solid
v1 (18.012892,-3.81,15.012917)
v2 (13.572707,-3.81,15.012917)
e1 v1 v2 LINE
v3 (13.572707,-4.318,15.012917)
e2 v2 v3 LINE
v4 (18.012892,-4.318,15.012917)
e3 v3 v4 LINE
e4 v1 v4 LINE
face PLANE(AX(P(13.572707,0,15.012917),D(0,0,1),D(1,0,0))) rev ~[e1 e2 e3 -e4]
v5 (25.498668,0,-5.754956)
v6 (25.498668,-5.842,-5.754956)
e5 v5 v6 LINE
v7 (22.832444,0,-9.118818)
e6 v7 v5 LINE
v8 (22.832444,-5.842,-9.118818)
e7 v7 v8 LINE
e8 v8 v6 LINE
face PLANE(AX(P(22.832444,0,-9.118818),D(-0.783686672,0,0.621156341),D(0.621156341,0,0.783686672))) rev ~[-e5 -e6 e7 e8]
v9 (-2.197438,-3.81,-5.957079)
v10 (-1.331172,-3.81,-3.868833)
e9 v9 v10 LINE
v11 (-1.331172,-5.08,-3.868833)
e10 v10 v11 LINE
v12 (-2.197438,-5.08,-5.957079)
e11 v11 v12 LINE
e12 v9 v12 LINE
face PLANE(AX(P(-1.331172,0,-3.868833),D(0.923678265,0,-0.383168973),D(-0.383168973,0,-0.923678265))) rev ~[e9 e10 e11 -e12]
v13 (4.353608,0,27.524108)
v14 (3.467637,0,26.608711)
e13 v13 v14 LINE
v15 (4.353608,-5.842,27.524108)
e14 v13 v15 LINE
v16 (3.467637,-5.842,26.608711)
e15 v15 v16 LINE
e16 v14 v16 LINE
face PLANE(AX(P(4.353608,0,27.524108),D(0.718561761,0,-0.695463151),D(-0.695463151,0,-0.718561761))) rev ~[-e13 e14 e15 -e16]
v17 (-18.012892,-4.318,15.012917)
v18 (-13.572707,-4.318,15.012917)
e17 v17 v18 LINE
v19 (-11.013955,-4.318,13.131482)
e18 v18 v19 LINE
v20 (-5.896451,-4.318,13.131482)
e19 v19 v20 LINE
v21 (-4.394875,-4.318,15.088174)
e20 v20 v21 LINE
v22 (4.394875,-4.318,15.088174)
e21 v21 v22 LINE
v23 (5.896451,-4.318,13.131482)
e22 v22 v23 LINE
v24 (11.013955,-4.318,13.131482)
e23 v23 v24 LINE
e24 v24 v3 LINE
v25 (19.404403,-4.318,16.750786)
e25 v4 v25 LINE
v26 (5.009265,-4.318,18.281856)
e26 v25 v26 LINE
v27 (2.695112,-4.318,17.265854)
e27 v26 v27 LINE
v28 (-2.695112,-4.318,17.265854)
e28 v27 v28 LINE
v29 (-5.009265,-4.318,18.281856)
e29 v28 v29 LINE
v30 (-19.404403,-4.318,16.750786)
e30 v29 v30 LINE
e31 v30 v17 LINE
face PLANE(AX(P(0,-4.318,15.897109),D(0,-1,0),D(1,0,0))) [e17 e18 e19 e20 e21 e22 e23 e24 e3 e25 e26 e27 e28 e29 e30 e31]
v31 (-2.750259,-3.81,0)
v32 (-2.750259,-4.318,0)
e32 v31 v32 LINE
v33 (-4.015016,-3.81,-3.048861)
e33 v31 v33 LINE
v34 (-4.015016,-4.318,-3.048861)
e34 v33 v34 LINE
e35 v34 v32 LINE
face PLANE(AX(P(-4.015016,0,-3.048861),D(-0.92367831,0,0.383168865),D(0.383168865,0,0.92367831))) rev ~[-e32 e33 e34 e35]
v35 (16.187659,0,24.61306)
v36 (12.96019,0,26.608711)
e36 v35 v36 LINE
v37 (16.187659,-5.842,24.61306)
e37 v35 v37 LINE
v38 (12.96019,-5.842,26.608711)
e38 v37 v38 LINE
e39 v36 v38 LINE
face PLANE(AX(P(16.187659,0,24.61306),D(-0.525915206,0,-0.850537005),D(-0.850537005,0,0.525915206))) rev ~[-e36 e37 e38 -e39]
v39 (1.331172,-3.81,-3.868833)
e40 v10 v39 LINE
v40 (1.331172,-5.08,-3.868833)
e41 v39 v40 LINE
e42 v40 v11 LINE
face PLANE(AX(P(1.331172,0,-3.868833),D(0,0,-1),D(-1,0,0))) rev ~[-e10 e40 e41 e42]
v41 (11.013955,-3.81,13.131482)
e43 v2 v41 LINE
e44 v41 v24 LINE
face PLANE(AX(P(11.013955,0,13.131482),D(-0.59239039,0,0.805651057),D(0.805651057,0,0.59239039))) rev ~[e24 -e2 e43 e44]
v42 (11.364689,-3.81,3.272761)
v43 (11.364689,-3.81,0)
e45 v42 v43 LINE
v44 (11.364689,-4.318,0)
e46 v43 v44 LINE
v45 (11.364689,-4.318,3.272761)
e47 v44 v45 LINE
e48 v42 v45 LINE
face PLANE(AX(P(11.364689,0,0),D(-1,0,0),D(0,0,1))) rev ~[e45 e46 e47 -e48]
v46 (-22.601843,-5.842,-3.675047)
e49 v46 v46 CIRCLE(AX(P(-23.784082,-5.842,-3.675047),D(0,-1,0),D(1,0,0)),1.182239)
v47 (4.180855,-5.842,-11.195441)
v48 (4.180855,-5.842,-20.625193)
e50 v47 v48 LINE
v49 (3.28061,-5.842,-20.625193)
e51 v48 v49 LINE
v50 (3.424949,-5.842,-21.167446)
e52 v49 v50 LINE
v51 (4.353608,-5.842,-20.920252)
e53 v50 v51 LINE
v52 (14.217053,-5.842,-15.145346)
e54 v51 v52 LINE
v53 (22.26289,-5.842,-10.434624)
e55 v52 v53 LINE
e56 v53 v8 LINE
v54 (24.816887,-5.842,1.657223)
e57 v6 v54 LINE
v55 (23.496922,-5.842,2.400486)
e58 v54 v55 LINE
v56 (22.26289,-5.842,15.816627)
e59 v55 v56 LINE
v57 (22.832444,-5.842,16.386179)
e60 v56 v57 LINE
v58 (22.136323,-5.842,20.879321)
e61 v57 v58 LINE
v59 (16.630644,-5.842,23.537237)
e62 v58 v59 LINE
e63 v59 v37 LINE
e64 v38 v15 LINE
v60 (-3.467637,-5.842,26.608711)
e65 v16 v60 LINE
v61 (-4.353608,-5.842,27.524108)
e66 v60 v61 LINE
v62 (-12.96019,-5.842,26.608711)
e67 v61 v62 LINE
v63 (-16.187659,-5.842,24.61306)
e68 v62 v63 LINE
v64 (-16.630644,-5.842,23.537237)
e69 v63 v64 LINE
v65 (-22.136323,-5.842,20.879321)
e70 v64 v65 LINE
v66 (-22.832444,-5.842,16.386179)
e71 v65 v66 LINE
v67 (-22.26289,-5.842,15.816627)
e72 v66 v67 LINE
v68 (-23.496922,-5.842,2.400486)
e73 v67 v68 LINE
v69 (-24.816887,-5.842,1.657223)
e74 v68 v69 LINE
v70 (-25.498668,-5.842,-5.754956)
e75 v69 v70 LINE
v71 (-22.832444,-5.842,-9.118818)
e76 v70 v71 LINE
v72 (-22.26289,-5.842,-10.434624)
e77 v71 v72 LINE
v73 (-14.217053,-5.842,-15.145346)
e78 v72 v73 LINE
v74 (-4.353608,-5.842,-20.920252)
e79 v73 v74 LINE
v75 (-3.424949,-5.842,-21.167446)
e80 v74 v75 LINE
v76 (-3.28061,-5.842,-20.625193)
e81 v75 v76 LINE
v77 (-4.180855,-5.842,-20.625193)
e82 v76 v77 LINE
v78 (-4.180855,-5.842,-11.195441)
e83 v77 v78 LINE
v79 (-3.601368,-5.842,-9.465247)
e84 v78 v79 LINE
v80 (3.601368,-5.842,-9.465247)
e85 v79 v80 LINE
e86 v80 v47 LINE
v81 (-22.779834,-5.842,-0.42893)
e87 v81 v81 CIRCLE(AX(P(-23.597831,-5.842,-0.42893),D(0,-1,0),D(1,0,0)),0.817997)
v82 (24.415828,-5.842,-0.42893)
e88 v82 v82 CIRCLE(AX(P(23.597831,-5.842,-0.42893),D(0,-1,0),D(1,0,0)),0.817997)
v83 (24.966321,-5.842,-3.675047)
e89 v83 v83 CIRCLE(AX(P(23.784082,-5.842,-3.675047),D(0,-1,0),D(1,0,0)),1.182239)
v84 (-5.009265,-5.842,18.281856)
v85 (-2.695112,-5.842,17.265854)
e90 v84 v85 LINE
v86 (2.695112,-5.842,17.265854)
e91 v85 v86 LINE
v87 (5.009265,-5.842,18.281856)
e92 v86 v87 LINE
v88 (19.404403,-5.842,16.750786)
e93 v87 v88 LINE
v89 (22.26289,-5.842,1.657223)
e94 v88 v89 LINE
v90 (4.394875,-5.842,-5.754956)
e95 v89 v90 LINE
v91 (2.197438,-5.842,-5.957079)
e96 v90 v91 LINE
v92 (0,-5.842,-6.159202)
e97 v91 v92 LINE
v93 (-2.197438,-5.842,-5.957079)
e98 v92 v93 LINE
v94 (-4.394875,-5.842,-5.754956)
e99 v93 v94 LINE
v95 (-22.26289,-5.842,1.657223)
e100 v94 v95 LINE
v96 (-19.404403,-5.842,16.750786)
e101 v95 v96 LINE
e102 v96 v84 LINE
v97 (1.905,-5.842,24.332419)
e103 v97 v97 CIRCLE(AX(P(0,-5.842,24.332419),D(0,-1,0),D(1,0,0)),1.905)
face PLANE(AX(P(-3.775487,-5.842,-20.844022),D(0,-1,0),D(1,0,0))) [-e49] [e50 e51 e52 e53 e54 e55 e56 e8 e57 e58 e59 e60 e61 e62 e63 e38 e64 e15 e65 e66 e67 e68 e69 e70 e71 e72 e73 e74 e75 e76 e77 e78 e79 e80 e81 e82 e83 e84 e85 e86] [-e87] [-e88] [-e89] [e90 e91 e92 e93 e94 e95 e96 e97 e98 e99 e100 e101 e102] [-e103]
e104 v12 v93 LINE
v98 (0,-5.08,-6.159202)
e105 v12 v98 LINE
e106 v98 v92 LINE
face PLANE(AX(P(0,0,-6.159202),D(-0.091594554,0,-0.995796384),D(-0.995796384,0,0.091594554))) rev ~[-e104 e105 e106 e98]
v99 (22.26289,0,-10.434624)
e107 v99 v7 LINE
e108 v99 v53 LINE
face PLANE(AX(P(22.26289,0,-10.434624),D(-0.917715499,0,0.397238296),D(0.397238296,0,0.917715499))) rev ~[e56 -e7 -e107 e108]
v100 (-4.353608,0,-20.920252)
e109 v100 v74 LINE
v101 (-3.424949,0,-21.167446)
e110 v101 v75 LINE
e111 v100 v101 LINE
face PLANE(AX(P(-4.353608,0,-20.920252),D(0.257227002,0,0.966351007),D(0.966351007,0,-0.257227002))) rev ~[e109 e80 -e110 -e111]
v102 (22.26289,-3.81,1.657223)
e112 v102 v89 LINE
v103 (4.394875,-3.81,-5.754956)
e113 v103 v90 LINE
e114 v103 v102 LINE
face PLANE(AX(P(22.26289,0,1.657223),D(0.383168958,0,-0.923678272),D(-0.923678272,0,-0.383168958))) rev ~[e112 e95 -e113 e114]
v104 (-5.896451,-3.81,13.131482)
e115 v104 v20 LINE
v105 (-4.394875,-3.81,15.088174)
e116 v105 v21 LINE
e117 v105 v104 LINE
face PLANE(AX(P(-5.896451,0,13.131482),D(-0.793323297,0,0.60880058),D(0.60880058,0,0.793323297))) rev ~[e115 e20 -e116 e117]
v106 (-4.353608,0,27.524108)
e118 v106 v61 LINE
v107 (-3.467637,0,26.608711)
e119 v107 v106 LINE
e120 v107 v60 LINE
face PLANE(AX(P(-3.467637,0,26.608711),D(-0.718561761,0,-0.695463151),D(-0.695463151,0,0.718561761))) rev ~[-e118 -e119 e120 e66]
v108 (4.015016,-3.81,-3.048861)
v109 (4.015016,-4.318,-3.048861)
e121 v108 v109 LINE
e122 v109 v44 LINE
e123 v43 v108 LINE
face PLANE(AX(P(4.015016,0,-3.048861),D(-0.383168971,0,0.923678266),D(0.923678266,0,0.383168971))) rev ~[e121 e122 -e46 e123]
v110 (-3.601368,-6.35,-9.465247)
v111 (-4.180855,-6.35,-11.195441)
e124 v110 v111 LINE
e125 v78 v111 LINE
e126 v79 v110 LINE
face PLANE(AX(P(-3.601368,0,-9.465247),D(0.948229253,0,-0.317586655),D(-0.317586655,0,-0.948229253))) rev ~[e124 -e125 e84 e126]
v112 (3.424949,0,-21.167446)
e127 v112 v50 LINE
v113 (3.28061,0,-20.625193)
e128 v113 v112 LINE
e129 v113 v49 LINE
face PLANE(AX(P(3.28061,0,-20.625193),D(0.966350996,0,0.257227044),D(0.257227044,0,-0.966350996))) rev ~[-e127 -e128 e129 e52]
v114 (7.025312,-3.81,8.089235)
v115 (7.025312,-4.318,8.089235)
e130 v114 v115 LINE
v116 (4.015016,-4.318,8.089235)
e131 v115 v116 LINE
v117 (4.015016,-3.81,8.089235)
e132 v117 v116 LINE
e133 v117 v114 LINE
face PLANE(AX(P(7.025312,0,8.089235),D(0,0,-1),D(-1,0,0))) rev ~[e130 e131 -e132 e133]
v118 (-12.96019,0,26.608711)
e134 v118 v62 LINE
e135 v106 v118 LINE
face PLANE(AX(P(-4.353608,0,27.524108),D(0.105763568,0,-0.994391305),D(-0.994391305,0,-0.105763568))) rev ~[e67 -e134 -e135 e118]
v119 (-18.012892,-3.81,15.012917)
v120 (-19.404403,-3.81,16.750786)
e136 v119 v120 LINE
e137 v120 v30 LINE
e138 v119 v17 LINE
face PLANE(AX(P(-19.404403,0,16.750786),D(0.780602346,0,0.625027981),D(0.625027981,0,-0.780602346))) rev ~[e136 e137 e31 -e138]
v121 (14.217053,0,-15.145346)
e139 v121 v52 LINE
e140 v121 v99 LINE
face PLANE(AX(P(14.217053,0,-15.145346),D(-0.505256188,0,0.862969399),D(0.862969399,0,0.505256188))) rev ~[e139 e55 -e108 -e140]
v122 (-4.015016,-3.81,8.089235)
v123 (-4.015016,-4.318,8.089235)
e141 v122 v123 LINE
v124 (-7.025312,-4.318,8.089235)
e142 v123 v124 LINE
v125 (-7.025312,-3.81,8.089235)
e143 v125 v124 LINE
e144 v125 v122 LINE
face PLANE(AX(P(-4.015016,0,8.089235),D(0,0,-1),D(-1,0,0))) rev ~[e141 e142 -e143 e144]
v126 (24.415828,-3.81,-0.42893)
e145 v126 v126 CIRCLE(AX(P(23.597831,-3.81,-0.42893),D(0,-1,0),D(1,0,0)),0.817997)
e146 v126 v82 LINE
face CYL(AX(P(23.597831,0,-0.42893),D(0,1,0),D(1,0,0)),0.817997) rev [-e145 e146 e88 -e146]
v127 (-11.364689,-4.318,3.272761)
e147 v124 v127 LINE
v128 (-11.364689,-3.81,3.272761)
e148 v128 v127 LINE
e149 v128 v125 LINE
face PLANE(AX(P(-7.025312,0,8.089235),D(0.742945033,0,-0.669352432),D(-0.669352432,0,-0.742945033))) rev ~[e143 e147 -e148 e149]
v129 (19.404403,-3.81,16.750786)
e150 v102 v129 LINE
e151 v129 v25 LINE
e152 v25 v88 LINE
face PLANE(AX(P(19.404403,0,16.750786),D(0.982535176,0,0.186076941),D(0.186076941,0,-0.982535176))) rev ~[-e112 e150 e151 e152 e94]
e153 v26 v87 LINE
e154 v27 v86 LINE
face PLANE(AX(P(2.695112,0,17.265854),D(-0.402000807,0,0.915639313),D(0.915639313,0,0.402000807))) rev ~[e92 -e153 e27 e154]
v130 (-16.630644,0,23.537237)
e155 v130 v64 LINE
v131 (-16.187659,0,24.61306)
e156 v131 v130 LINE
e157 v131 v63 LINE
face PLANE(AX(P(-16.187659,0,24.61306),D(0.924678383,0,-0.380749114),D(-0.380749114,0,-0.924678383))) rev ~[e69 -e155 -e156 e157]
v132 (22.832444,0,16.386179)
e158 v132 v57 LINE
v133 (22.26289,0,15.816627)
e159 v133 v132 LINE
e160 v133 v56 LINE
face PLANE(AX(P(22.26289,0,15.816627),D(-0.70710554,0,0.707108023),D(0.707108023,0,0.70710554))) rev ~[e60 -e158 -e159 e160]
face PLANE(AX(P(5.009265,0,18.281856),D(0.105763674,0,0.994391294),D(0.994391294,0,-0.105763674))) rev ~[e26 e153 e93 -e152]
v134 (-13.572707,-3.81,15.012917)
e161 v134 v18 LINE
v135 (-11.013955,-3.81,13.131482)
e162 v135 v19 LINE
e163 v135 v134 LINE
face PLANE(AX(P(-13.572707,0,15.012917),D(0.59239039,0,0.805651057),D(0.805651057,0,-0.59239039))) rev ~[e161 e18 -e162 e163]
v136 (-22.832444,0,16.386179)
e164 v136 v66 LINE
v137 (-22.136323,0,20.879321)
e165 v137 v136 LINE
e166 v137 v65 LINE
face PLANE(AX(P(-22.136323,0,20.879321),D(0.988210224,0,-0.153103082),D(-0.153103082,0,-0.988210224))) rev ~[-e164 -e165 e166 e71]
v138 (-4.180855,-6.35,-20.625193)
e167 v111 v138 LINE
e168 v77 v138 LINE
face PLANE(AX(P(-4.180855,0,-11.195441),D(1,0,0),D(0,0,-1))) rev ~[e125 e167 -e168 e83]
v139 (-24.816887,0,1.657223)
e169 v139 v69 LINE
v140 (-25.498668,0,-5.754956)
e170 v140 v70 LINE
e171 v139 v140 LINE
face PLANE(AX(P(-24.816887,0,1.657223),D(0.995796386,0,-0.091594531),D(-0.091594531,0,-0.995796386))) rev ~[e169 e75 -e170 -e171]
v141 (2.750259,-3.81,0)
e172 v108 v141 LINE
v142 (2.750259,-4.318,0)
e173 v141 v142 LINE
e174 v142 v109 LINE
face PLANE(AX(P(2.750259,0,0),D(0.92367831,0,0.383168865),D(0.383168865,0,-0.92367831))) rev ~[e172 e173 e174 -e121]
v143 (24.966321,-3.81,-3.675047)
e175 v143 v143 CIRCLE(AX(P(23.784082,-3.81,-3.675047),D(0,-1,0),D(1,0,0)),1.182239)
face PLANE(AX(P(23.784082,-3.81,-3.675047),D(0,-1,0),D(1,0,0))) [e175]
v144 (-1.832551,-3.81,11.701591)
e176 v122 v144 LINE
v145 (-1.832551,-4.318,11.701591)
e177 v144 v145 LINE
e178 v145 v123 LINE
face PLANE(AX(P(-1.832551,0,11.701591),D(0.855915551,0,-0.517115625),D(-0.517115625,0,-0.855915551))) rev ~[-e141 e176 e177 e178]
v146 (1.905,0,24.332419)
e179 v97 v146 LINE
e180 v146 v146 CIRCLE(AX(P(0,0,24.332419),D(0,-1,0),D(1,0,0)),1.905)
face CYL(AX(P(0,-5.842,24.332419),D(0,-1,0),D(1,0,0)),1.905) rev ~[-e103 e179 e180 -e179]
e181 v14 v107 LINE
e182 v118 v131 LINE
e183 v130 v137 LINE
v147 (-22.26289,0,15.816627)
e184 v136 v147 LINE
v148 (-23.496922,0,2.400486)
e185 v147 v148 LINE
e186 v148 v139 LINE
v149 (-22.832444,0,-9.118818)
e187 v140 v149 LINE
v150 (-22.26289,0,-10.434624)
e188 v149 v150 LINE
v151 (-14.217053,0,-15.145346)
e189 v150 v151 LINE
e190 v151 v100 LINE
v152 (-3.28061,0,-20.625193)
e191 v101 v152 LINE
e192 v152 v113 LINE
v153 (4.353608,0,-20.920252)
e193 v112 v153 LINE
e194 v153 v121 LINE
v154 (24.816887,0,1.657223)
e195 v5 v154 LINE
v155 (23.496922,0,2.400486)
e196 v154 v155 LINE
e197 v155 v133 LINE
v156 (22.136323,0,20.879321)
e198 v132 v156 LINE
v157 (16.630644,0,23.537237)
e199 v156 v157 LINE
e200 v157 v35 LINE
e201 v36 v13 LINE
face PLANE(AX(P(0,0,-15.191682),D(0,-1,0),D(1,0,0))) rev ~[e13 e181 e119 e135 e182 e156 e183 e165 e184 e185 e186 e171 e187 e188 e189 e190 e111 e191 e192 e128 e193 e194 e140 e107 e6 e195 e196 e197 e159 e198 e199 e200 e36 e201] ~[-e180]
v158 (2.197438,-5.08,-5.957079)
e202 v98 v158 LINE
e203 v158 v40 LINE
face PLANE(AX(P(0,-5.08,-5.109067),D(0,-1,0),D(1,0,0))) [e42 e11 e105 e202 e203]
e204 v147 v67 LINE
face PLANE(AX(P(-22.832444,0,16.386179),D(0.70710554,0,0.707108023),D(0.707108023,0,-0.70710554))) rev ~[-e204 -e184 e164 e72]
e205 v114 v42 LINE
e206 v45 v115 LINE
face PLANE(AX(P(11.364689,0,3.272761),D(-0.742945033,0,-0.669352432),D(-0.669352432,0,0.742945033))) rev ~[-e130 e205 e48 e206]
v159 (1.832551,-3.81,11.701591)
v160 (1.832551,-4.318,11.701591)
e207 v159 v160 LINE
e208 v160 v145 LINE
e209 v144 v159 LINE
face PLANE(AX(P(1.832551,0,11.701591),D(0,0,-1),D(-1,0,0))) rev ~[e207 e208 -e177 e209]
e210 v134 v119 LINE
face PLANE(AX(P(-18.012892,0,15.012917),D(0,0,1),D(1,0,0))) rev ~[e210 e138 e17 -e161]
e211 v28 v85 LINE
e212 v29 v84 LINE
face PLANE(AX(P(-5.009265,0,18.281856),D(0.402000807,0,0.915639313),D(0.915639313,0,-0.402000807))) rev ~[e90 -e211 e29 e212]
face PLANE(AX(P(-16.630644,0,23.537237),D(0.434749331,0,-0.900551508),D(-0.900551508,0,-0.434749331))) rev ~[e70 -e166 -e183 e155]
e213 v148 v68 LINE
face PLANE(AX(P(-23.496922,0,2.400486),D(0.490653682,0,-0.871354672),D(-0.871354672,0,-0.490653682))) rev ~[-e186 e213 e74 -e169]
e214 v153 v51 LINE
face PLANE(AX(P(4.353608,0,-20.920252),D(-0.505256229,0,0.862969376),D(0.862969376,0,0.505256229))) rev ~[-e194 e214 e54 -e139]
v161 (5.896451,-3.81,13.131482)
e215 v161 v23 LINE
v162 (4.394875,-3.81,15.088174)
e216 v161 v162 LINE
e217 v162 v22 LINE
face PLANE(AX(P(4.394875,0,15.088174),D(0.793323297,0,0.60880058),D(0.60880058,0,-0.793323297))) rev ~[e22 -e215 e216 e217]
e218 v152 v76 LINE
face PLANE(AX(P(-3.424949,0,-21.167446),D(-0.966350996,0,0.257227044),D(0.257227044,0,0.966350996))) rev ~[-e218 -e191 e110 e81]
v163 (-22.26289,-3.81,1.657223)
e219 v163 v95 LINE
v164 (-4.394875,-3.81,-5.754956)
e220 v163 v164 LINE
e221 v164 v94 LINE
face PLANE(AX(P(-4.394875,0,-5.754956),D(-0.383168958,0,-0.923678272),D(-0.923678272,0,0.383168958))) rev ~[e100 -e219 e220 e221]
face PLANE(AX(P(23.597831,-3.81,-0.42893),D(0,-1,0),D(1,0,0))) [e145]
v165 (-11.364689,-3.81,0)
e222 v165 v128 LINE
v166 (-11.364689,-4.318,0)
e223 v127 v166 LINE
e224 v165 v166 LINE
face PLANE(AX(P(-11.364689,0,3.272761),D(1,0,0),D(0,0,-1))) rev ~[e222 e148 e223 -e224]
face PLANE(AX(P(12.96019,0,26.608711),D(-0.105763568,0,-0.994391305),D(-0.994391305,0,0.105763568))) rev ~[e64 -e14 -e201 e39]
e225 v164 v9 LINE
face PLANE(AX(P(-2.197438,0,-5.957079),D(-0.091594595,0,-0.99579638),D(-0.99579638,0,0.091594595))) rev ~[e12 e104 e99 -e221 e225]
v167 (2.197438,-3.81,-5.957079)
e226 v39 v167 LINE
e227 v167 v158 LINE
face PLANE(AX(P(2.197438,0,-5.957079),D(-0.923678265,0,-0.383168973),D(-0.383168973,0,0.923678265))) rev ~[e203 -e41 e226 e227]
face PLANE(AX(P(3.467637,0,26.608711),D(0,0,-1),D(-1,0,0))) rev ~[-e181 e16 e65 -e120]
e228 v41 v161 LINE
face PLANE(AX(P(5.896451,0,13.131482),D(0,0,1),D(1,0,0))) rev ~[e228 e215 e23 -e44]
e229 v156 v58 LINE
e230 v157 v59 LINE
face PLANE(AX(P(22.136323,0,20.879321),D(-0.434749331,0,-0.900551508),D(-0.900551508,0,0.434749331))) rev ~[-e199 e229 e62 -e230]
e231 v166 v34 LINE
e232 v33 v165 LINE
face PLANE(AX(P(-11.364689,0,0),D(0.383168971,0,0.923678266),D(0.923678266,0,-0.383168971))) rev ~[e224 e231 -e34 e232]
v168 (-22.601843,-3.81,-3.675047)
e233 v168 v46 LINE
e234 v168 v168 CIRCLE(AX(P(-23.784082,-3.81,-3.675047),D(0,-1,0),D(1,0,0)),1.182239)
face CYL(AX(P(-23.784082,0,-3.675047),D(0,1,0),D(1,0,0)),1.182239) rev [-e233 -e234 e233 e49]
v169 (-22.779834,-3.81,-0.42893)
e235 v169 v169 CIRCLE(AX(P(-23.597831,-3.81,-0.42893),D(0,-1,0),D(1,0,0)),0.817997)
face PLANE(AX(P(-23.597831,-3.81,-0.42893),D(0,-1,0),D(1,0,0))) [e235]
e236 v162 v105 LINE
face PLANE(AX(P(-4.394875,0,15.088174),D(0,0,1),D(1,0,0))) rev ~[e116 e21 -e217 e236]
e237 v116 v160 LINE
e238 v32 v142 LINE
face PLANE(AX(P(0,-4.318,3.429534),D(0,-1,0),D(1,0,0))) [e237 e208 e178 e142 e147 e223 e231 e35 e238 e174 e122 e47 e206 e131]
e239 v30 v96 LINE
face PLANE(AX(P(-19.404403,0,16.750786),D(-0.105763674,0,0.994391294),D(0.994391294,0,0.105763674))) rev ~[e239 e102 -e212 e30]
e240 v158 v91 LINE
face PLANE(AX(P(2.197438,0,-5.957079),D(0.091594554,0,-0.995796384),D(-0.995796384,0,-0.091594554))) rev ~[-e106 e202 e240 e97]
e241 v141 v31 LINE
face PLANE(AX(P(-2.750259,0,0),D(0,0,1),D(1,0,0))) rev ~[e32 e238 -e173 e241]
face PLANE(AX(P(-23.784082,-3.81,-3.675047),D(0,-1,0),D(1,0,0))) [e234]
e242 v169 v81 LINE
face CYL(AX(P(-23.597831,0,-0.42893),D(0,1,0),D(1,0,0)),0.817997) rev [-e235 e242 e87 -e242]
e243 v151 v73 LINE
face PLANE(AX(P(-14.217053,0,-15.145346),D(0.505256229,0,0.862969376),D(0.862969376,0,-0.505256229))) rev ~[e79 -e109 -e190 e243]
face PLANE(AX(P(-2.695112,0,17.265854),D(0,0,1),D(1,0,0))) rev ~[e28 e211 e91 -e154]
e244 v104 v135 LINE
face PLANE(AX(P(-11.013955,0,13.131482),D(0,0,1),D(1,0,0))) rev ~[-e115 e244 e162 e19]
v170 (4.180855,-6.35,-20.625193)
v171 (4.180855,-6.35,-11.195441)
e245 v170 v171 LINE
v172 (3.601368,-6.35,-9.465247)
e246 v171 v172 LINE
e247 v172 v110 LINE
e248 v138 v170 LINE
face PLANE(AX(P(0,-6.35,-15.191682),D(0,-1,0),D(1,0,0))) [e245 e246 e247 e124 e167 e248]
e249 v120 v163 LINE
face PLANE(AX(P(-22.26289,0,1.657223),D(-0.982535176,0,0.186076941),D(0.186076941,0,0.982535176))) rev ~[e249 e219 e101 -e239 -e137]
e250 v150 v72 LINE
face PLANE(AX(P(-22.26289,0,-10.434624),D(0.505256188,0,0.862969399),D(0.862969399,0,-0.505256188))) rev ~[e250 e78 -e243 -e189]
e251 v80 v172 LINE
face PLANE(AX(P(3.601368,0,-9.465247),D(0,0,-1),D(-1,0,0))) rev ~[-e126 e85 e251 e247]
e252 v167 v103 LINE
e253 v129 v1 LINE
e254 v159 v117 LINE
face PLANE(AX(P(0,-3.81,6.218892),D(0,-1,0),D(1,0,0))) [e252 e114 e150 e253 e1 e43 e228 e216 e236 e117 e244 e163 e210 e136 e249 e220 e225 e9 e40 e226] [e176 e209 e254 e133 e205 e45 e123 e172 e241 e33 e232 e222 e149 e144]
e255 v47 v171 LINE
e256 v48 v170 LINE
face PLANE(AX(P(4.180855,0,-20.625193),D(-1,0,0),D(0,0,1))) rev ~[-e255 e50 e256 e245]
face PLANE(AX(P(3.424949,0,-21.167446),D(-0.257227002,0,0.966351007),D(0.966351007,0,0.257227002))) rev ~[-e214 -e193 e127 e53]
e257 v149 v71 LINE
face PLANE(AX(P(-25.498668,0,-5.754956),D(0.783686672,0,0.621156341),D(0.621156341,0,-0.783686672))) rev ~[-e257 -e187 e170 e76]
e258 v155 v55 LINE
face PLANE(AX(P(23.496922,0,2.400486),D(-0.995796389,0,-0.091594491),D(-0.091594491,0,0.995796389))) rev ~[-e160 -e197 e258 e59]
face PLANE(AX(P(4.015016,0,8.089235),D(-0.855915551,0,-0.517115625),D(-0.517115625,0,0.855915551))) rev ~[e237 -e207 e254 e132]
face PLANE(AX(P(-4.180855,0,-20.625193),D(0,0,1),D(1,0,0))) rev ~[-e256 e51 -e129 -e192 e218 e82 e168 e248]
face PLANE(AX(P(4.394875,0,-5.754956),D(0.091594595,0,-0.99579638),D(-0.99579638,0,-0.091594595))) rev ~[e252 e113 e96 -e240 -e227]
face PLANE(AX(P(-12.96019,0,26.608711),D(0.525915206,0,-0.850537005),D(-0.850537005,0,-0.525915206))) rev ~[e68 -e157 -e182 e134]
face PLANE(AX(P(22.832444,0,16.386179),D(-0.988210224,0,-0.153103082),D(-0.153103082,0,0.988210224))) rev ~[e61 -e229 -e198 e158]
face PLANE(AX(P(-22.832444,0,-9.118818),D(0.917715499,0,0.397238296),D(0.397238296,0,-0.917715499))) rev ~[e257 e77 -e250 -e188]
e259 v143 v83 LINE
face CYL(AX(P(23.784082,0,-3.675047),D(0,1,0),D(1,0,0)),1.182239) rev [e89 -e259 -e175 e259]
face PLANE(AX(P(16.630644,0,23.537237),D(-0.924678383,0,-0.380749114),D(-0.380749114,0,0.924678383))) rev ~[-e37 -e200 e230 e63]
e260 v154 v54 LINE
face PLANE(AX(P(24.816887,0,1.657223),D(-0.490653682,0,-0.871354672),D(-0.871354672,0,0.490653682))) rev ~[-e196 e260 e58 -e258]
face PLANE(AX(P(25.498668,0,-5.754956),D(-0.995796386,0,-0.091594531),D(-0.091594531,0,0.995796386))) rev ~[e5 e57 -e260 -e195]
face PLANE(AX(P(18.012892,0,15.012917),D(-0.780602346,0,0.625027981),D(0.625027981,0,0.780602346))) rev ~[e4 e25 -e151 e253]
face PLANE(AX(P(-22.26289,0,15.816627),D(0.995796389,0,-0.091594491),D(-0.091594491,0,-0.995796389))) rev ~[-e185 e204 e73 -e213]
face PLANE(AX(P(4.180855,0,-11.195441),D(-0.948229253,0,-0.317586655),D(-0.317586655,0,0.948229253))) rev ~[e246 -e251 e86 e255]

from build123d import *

# Parameters (mm, degrees)
F0_R     = 1.182239
F0_R_2   = 0.817997
F1_DEPTH = 5.842
F2_DEPTH = 3.81
F3_DEPTH = 5.08
F4_DEPTH = 4.318
F5_R     = 1.905
F6_DEPTH = 25.4
F7_DEPTH = 6.35


with BuildPart() as f1:
    # F0 (on Front) → F1 (new body)
    with BuildSketch(Plane.XZ):
        Polygon((-4.180855, -20.625193), (-4.353608, -20.920252), (-3.424949, -21.167446), (-3.28061, -20.625193), align=None)
        Polygon((3.424949, -21.167446), (4.353608, -20.920252), (4.180855, -20.625193), (3.28061, -20.625193), align=None)
        Polygon((22.26289, -6.835999), (22.26289, 1.657223), (4.394875, -5.754956), (2.197438, -5.957079), (0, -6.159202), (-2.197438, -5.957079), (-4.394875, -5.754956), (-22.26289, 1.657223), (-22.26289, -6.835999), (-22.832444, -9.118818), (-15.86828, -11.246894), (-14.217053, -15.145346), (-4.353608, -20.920252), (-4.180855, -20.625193), (-4.180855, -11.195441), (-3.601368, -9.465247), (0, -9.465247), (3.601368, -9.465247), (4.180855, -11.195441), (4.180855, -20.625193), (4.353608, -20.920252), (14.217053, -15.145346), (15.86828, -11.246894), (22.832444, -9.118818), align=None)
        Polygon((-15.86828, -11.246894), (-22.832444, -9.118818), (-22.26289, -10.434624), (-14.217053, -15.145346), align=None)
        Polygon((22.26289, -10.434624), (22.832444, -9.118818), (15.86828, -11.246894), (14.217053, -15.145346), align=None)
        Polygon((24.816887, 1.657223), (22.26289, 1.657223), (22.26289, -6.835999), (22.832444, -9.118818), (25.498668, -5.754956), align=None)
        with Locations((23.784082, -3.675047)):
            Circle(F0_R, mode=Mode.SUBTRACT)
        with Locations((23.597831, -0.42893)):
            Circle(F0_R_2, mode=Mode.SUBTRACT)
        Polygon((-22.26289, -6.835999), (-22.26289, 1.657223), (-24.816887, 1.657223), (-25.498668, -5.754956), (-22.832444, -9.118818), align=None)
        with Locations((-23.784082, -3.675047)):
            Circle(F0_R, mode=Mode.SUBTRACT)
        with Locations((-23.597831, -0.42893)):
            Circle(F0_R_2, mode=Mode.SUBTRACT)
        Polygon((-19.404403, 16.750786), (-22.26289, 15.816627), (-23.496922, 2.400486), (-22.26289, 1.657223), align=None)
        Polygon((23.496922, 2.400486), (22.26289, 15.816627), (19.404403, 16.750786), (22.26289, 1.657223), align=None)
        Polygon((24.816887, 1.657223), (23.496922, 2.400486), (22.26289, 1.657223), align=None)
        Polygon((-22.26289, 1.657223), (-23.496922, 2.400486), (-24.816887, 1.657223), align=None)
        Polygon((-19.404403, 16.750786), (-22.832444, 16.386179), (-22.26289, 15.816627), align=None)
        Polygon((22.26289, 15.816627), (22.832444, 16.386179), (19.404403, 16.750786), align=None)
        Polygon((22.832444, 16.386179), (22.136323, 20.879321), (5.009265, 22.700958), (2.695112, 21.684956), (0, 21.684956), (-2.695112, 21.684956), (-5.009265, 22.700958), (-22.136323, 20.879321), (-22.832444, 16.386179), (-19.404403, 16.750786), (-5.009265, 18.281856), (-2.695112, 17.265854), (0, 17.265854), (2.695112, 17.265854), (5.009265, 18.281856), (19.404403, 16.750786), align=None)
        Polygon((3.467637, 26.608711), (0, 26.608711), (-3.467637, 26.608711), (-4.353608, 27.524108), (-12.96019, 26.608711), (-16.187659, 24.61306), (-16.630644, 23.537237), (-22.136323, 20.879321), (-5.009265, 22.700958), (-2.695112, 21.684956), (0, 21.684956), (2.695112, 21.684956), (5.009265, 22.700958), (22.136323, 20.879321), (16.630644, 23.537237), (16.187659, 24.61306), (12.96019, 26.608711), (4.353608, 27.524108), align=None)
    extrude(amount=F1_DEPTH)

    # F0 (on Front) → F2 (join)
    with BuildSketch(Plane.XZ):
        with Locations((23.784082, -3.675047)):
            Circle(F0_R)
        with Locations((23.597831, -0.42893)):
            Circle(F0_R_2)
        with Locations((-23.784082, -3.675047)):
            Circle(F0_R)
        with Locations((-23.597831, -0.42893)):
            Circle(F0_R_2)
        Polygon((22.26289, 1.657223), (19.404403, 16.750786), (18.012892, 15.012917), (13.572707, 15.012917), (11.013955, 13.131482), (5.896451, 13.131482), (4.394875, 15.088174), (0, 15.088174), (-4.394875, 15.088174), (-5.896451, 13.131482), (-11.013955, 13.131482), (-13.572707, 15.012917), (-18.012892, 15.012917), (-19.404403, 16.750786), (-22.26289, 1.657223), (-4.394875, -5.754956), (-2.197438, -5.957079), (-1.331172, -3.868833), (0, -3.868833), (1.331172, -3.868833), (2.197438, -5.957079), (4.394875, -5.754956), align=None)
        Polygon((-2.750259, 0), (-4.015016, -3.048861), (-11.364689, 0), (-11.364689, 3.272761), (-7.025312, 8.089235), (-4.015016, 8.089235), (-1.832551, 11.701591), (0, 11.701591), (1.832551, 11.701591), (4.015016, 8.089235), (7.025312, 8.089235), (11.364689, 3.272761), (11.364689, 0), (4.015016, -3.048861), (2.750259, 0), (0, 0), align=None, mode=Mode.SUBTRACT)
    extrude(amount=F2_DEPTH)

    # F0 (on Front) → F3 (join)
    with BuildSketch(Plane.XZ):
        Polygon((0, -6.159202), (2.197438, -5.957079), (1.331172, -3.868833), (0, -3.868833), (-1.331172, -3.868833), (-2.197438, -5.957079), align=None)
    extrude(amount=F3_DEPTH)

    # F0 (on Front) → F4 (join)
    with BuildSketch(Plane.XZ):
        Polygon((-11.364689, 0), (-4.015016, -3.048861), (-2.750259, 0), (0, 0), (2.750259, 0), (4.015016, -3.048861), (11.364689, 0), (11.364689, 3.272761), (7.025312, 8.089235), (4.015016, 8.089235), (1.832551, 11.701591), (0, 11.701591), (-1.832551, 11.701591), (-4.015016, 8.089235), (-7.025312, 8.089235), (-11.364689, 3.272761), align=None)
        Polygon((18.012892, 15.012917), (19.404403, 16.750786), (5.009265, 18.281856), (2.695112, 17.265854), (0, 17.265854), (-2.695112, 17.265854), (-5.009265, 18.281856), (-19.404403, 16.750786), (-18.012892, 15.012917), (-13.572707, 15.012917), (-11.013955, 13.131482), (-5.896451, 13.131482), (-4.394875, 15.088174), (0, 15.088174), (4.394875, 15.088174), (5.896451, 13.131482), (11.013955, 13.131482), (13.572707, 15.012917), align=None)
    extrude(amount=F4_DEPTH)

    # F5 (on face) → F6 (cut)
    with BuildSketch(Plane.XZ.offset(5.842)):
        with Locations((0, 24.332419)):
            Circle(F5_R)
    extrude(amount=-F6_DEPTH, mode=Mode.SUBTRACT)

    # F0 (on Front) → F7 (join)
    with BuildSketch(Plane.XZ):
        Polygon((3.28061, -20.625193), (4.180855, -20.625193), (4.180855, -11.195441), (3.601368, -9.465247), (0, -9.465247), (-3.601368, -9.465247), (-4.180855, -11.195441), (-4.180855, -20.625193), (-3.28061, -20.625193), (0, -20.625193), align=None)
    extrude(amount=F7_DEPTH)


solid = f1.part
